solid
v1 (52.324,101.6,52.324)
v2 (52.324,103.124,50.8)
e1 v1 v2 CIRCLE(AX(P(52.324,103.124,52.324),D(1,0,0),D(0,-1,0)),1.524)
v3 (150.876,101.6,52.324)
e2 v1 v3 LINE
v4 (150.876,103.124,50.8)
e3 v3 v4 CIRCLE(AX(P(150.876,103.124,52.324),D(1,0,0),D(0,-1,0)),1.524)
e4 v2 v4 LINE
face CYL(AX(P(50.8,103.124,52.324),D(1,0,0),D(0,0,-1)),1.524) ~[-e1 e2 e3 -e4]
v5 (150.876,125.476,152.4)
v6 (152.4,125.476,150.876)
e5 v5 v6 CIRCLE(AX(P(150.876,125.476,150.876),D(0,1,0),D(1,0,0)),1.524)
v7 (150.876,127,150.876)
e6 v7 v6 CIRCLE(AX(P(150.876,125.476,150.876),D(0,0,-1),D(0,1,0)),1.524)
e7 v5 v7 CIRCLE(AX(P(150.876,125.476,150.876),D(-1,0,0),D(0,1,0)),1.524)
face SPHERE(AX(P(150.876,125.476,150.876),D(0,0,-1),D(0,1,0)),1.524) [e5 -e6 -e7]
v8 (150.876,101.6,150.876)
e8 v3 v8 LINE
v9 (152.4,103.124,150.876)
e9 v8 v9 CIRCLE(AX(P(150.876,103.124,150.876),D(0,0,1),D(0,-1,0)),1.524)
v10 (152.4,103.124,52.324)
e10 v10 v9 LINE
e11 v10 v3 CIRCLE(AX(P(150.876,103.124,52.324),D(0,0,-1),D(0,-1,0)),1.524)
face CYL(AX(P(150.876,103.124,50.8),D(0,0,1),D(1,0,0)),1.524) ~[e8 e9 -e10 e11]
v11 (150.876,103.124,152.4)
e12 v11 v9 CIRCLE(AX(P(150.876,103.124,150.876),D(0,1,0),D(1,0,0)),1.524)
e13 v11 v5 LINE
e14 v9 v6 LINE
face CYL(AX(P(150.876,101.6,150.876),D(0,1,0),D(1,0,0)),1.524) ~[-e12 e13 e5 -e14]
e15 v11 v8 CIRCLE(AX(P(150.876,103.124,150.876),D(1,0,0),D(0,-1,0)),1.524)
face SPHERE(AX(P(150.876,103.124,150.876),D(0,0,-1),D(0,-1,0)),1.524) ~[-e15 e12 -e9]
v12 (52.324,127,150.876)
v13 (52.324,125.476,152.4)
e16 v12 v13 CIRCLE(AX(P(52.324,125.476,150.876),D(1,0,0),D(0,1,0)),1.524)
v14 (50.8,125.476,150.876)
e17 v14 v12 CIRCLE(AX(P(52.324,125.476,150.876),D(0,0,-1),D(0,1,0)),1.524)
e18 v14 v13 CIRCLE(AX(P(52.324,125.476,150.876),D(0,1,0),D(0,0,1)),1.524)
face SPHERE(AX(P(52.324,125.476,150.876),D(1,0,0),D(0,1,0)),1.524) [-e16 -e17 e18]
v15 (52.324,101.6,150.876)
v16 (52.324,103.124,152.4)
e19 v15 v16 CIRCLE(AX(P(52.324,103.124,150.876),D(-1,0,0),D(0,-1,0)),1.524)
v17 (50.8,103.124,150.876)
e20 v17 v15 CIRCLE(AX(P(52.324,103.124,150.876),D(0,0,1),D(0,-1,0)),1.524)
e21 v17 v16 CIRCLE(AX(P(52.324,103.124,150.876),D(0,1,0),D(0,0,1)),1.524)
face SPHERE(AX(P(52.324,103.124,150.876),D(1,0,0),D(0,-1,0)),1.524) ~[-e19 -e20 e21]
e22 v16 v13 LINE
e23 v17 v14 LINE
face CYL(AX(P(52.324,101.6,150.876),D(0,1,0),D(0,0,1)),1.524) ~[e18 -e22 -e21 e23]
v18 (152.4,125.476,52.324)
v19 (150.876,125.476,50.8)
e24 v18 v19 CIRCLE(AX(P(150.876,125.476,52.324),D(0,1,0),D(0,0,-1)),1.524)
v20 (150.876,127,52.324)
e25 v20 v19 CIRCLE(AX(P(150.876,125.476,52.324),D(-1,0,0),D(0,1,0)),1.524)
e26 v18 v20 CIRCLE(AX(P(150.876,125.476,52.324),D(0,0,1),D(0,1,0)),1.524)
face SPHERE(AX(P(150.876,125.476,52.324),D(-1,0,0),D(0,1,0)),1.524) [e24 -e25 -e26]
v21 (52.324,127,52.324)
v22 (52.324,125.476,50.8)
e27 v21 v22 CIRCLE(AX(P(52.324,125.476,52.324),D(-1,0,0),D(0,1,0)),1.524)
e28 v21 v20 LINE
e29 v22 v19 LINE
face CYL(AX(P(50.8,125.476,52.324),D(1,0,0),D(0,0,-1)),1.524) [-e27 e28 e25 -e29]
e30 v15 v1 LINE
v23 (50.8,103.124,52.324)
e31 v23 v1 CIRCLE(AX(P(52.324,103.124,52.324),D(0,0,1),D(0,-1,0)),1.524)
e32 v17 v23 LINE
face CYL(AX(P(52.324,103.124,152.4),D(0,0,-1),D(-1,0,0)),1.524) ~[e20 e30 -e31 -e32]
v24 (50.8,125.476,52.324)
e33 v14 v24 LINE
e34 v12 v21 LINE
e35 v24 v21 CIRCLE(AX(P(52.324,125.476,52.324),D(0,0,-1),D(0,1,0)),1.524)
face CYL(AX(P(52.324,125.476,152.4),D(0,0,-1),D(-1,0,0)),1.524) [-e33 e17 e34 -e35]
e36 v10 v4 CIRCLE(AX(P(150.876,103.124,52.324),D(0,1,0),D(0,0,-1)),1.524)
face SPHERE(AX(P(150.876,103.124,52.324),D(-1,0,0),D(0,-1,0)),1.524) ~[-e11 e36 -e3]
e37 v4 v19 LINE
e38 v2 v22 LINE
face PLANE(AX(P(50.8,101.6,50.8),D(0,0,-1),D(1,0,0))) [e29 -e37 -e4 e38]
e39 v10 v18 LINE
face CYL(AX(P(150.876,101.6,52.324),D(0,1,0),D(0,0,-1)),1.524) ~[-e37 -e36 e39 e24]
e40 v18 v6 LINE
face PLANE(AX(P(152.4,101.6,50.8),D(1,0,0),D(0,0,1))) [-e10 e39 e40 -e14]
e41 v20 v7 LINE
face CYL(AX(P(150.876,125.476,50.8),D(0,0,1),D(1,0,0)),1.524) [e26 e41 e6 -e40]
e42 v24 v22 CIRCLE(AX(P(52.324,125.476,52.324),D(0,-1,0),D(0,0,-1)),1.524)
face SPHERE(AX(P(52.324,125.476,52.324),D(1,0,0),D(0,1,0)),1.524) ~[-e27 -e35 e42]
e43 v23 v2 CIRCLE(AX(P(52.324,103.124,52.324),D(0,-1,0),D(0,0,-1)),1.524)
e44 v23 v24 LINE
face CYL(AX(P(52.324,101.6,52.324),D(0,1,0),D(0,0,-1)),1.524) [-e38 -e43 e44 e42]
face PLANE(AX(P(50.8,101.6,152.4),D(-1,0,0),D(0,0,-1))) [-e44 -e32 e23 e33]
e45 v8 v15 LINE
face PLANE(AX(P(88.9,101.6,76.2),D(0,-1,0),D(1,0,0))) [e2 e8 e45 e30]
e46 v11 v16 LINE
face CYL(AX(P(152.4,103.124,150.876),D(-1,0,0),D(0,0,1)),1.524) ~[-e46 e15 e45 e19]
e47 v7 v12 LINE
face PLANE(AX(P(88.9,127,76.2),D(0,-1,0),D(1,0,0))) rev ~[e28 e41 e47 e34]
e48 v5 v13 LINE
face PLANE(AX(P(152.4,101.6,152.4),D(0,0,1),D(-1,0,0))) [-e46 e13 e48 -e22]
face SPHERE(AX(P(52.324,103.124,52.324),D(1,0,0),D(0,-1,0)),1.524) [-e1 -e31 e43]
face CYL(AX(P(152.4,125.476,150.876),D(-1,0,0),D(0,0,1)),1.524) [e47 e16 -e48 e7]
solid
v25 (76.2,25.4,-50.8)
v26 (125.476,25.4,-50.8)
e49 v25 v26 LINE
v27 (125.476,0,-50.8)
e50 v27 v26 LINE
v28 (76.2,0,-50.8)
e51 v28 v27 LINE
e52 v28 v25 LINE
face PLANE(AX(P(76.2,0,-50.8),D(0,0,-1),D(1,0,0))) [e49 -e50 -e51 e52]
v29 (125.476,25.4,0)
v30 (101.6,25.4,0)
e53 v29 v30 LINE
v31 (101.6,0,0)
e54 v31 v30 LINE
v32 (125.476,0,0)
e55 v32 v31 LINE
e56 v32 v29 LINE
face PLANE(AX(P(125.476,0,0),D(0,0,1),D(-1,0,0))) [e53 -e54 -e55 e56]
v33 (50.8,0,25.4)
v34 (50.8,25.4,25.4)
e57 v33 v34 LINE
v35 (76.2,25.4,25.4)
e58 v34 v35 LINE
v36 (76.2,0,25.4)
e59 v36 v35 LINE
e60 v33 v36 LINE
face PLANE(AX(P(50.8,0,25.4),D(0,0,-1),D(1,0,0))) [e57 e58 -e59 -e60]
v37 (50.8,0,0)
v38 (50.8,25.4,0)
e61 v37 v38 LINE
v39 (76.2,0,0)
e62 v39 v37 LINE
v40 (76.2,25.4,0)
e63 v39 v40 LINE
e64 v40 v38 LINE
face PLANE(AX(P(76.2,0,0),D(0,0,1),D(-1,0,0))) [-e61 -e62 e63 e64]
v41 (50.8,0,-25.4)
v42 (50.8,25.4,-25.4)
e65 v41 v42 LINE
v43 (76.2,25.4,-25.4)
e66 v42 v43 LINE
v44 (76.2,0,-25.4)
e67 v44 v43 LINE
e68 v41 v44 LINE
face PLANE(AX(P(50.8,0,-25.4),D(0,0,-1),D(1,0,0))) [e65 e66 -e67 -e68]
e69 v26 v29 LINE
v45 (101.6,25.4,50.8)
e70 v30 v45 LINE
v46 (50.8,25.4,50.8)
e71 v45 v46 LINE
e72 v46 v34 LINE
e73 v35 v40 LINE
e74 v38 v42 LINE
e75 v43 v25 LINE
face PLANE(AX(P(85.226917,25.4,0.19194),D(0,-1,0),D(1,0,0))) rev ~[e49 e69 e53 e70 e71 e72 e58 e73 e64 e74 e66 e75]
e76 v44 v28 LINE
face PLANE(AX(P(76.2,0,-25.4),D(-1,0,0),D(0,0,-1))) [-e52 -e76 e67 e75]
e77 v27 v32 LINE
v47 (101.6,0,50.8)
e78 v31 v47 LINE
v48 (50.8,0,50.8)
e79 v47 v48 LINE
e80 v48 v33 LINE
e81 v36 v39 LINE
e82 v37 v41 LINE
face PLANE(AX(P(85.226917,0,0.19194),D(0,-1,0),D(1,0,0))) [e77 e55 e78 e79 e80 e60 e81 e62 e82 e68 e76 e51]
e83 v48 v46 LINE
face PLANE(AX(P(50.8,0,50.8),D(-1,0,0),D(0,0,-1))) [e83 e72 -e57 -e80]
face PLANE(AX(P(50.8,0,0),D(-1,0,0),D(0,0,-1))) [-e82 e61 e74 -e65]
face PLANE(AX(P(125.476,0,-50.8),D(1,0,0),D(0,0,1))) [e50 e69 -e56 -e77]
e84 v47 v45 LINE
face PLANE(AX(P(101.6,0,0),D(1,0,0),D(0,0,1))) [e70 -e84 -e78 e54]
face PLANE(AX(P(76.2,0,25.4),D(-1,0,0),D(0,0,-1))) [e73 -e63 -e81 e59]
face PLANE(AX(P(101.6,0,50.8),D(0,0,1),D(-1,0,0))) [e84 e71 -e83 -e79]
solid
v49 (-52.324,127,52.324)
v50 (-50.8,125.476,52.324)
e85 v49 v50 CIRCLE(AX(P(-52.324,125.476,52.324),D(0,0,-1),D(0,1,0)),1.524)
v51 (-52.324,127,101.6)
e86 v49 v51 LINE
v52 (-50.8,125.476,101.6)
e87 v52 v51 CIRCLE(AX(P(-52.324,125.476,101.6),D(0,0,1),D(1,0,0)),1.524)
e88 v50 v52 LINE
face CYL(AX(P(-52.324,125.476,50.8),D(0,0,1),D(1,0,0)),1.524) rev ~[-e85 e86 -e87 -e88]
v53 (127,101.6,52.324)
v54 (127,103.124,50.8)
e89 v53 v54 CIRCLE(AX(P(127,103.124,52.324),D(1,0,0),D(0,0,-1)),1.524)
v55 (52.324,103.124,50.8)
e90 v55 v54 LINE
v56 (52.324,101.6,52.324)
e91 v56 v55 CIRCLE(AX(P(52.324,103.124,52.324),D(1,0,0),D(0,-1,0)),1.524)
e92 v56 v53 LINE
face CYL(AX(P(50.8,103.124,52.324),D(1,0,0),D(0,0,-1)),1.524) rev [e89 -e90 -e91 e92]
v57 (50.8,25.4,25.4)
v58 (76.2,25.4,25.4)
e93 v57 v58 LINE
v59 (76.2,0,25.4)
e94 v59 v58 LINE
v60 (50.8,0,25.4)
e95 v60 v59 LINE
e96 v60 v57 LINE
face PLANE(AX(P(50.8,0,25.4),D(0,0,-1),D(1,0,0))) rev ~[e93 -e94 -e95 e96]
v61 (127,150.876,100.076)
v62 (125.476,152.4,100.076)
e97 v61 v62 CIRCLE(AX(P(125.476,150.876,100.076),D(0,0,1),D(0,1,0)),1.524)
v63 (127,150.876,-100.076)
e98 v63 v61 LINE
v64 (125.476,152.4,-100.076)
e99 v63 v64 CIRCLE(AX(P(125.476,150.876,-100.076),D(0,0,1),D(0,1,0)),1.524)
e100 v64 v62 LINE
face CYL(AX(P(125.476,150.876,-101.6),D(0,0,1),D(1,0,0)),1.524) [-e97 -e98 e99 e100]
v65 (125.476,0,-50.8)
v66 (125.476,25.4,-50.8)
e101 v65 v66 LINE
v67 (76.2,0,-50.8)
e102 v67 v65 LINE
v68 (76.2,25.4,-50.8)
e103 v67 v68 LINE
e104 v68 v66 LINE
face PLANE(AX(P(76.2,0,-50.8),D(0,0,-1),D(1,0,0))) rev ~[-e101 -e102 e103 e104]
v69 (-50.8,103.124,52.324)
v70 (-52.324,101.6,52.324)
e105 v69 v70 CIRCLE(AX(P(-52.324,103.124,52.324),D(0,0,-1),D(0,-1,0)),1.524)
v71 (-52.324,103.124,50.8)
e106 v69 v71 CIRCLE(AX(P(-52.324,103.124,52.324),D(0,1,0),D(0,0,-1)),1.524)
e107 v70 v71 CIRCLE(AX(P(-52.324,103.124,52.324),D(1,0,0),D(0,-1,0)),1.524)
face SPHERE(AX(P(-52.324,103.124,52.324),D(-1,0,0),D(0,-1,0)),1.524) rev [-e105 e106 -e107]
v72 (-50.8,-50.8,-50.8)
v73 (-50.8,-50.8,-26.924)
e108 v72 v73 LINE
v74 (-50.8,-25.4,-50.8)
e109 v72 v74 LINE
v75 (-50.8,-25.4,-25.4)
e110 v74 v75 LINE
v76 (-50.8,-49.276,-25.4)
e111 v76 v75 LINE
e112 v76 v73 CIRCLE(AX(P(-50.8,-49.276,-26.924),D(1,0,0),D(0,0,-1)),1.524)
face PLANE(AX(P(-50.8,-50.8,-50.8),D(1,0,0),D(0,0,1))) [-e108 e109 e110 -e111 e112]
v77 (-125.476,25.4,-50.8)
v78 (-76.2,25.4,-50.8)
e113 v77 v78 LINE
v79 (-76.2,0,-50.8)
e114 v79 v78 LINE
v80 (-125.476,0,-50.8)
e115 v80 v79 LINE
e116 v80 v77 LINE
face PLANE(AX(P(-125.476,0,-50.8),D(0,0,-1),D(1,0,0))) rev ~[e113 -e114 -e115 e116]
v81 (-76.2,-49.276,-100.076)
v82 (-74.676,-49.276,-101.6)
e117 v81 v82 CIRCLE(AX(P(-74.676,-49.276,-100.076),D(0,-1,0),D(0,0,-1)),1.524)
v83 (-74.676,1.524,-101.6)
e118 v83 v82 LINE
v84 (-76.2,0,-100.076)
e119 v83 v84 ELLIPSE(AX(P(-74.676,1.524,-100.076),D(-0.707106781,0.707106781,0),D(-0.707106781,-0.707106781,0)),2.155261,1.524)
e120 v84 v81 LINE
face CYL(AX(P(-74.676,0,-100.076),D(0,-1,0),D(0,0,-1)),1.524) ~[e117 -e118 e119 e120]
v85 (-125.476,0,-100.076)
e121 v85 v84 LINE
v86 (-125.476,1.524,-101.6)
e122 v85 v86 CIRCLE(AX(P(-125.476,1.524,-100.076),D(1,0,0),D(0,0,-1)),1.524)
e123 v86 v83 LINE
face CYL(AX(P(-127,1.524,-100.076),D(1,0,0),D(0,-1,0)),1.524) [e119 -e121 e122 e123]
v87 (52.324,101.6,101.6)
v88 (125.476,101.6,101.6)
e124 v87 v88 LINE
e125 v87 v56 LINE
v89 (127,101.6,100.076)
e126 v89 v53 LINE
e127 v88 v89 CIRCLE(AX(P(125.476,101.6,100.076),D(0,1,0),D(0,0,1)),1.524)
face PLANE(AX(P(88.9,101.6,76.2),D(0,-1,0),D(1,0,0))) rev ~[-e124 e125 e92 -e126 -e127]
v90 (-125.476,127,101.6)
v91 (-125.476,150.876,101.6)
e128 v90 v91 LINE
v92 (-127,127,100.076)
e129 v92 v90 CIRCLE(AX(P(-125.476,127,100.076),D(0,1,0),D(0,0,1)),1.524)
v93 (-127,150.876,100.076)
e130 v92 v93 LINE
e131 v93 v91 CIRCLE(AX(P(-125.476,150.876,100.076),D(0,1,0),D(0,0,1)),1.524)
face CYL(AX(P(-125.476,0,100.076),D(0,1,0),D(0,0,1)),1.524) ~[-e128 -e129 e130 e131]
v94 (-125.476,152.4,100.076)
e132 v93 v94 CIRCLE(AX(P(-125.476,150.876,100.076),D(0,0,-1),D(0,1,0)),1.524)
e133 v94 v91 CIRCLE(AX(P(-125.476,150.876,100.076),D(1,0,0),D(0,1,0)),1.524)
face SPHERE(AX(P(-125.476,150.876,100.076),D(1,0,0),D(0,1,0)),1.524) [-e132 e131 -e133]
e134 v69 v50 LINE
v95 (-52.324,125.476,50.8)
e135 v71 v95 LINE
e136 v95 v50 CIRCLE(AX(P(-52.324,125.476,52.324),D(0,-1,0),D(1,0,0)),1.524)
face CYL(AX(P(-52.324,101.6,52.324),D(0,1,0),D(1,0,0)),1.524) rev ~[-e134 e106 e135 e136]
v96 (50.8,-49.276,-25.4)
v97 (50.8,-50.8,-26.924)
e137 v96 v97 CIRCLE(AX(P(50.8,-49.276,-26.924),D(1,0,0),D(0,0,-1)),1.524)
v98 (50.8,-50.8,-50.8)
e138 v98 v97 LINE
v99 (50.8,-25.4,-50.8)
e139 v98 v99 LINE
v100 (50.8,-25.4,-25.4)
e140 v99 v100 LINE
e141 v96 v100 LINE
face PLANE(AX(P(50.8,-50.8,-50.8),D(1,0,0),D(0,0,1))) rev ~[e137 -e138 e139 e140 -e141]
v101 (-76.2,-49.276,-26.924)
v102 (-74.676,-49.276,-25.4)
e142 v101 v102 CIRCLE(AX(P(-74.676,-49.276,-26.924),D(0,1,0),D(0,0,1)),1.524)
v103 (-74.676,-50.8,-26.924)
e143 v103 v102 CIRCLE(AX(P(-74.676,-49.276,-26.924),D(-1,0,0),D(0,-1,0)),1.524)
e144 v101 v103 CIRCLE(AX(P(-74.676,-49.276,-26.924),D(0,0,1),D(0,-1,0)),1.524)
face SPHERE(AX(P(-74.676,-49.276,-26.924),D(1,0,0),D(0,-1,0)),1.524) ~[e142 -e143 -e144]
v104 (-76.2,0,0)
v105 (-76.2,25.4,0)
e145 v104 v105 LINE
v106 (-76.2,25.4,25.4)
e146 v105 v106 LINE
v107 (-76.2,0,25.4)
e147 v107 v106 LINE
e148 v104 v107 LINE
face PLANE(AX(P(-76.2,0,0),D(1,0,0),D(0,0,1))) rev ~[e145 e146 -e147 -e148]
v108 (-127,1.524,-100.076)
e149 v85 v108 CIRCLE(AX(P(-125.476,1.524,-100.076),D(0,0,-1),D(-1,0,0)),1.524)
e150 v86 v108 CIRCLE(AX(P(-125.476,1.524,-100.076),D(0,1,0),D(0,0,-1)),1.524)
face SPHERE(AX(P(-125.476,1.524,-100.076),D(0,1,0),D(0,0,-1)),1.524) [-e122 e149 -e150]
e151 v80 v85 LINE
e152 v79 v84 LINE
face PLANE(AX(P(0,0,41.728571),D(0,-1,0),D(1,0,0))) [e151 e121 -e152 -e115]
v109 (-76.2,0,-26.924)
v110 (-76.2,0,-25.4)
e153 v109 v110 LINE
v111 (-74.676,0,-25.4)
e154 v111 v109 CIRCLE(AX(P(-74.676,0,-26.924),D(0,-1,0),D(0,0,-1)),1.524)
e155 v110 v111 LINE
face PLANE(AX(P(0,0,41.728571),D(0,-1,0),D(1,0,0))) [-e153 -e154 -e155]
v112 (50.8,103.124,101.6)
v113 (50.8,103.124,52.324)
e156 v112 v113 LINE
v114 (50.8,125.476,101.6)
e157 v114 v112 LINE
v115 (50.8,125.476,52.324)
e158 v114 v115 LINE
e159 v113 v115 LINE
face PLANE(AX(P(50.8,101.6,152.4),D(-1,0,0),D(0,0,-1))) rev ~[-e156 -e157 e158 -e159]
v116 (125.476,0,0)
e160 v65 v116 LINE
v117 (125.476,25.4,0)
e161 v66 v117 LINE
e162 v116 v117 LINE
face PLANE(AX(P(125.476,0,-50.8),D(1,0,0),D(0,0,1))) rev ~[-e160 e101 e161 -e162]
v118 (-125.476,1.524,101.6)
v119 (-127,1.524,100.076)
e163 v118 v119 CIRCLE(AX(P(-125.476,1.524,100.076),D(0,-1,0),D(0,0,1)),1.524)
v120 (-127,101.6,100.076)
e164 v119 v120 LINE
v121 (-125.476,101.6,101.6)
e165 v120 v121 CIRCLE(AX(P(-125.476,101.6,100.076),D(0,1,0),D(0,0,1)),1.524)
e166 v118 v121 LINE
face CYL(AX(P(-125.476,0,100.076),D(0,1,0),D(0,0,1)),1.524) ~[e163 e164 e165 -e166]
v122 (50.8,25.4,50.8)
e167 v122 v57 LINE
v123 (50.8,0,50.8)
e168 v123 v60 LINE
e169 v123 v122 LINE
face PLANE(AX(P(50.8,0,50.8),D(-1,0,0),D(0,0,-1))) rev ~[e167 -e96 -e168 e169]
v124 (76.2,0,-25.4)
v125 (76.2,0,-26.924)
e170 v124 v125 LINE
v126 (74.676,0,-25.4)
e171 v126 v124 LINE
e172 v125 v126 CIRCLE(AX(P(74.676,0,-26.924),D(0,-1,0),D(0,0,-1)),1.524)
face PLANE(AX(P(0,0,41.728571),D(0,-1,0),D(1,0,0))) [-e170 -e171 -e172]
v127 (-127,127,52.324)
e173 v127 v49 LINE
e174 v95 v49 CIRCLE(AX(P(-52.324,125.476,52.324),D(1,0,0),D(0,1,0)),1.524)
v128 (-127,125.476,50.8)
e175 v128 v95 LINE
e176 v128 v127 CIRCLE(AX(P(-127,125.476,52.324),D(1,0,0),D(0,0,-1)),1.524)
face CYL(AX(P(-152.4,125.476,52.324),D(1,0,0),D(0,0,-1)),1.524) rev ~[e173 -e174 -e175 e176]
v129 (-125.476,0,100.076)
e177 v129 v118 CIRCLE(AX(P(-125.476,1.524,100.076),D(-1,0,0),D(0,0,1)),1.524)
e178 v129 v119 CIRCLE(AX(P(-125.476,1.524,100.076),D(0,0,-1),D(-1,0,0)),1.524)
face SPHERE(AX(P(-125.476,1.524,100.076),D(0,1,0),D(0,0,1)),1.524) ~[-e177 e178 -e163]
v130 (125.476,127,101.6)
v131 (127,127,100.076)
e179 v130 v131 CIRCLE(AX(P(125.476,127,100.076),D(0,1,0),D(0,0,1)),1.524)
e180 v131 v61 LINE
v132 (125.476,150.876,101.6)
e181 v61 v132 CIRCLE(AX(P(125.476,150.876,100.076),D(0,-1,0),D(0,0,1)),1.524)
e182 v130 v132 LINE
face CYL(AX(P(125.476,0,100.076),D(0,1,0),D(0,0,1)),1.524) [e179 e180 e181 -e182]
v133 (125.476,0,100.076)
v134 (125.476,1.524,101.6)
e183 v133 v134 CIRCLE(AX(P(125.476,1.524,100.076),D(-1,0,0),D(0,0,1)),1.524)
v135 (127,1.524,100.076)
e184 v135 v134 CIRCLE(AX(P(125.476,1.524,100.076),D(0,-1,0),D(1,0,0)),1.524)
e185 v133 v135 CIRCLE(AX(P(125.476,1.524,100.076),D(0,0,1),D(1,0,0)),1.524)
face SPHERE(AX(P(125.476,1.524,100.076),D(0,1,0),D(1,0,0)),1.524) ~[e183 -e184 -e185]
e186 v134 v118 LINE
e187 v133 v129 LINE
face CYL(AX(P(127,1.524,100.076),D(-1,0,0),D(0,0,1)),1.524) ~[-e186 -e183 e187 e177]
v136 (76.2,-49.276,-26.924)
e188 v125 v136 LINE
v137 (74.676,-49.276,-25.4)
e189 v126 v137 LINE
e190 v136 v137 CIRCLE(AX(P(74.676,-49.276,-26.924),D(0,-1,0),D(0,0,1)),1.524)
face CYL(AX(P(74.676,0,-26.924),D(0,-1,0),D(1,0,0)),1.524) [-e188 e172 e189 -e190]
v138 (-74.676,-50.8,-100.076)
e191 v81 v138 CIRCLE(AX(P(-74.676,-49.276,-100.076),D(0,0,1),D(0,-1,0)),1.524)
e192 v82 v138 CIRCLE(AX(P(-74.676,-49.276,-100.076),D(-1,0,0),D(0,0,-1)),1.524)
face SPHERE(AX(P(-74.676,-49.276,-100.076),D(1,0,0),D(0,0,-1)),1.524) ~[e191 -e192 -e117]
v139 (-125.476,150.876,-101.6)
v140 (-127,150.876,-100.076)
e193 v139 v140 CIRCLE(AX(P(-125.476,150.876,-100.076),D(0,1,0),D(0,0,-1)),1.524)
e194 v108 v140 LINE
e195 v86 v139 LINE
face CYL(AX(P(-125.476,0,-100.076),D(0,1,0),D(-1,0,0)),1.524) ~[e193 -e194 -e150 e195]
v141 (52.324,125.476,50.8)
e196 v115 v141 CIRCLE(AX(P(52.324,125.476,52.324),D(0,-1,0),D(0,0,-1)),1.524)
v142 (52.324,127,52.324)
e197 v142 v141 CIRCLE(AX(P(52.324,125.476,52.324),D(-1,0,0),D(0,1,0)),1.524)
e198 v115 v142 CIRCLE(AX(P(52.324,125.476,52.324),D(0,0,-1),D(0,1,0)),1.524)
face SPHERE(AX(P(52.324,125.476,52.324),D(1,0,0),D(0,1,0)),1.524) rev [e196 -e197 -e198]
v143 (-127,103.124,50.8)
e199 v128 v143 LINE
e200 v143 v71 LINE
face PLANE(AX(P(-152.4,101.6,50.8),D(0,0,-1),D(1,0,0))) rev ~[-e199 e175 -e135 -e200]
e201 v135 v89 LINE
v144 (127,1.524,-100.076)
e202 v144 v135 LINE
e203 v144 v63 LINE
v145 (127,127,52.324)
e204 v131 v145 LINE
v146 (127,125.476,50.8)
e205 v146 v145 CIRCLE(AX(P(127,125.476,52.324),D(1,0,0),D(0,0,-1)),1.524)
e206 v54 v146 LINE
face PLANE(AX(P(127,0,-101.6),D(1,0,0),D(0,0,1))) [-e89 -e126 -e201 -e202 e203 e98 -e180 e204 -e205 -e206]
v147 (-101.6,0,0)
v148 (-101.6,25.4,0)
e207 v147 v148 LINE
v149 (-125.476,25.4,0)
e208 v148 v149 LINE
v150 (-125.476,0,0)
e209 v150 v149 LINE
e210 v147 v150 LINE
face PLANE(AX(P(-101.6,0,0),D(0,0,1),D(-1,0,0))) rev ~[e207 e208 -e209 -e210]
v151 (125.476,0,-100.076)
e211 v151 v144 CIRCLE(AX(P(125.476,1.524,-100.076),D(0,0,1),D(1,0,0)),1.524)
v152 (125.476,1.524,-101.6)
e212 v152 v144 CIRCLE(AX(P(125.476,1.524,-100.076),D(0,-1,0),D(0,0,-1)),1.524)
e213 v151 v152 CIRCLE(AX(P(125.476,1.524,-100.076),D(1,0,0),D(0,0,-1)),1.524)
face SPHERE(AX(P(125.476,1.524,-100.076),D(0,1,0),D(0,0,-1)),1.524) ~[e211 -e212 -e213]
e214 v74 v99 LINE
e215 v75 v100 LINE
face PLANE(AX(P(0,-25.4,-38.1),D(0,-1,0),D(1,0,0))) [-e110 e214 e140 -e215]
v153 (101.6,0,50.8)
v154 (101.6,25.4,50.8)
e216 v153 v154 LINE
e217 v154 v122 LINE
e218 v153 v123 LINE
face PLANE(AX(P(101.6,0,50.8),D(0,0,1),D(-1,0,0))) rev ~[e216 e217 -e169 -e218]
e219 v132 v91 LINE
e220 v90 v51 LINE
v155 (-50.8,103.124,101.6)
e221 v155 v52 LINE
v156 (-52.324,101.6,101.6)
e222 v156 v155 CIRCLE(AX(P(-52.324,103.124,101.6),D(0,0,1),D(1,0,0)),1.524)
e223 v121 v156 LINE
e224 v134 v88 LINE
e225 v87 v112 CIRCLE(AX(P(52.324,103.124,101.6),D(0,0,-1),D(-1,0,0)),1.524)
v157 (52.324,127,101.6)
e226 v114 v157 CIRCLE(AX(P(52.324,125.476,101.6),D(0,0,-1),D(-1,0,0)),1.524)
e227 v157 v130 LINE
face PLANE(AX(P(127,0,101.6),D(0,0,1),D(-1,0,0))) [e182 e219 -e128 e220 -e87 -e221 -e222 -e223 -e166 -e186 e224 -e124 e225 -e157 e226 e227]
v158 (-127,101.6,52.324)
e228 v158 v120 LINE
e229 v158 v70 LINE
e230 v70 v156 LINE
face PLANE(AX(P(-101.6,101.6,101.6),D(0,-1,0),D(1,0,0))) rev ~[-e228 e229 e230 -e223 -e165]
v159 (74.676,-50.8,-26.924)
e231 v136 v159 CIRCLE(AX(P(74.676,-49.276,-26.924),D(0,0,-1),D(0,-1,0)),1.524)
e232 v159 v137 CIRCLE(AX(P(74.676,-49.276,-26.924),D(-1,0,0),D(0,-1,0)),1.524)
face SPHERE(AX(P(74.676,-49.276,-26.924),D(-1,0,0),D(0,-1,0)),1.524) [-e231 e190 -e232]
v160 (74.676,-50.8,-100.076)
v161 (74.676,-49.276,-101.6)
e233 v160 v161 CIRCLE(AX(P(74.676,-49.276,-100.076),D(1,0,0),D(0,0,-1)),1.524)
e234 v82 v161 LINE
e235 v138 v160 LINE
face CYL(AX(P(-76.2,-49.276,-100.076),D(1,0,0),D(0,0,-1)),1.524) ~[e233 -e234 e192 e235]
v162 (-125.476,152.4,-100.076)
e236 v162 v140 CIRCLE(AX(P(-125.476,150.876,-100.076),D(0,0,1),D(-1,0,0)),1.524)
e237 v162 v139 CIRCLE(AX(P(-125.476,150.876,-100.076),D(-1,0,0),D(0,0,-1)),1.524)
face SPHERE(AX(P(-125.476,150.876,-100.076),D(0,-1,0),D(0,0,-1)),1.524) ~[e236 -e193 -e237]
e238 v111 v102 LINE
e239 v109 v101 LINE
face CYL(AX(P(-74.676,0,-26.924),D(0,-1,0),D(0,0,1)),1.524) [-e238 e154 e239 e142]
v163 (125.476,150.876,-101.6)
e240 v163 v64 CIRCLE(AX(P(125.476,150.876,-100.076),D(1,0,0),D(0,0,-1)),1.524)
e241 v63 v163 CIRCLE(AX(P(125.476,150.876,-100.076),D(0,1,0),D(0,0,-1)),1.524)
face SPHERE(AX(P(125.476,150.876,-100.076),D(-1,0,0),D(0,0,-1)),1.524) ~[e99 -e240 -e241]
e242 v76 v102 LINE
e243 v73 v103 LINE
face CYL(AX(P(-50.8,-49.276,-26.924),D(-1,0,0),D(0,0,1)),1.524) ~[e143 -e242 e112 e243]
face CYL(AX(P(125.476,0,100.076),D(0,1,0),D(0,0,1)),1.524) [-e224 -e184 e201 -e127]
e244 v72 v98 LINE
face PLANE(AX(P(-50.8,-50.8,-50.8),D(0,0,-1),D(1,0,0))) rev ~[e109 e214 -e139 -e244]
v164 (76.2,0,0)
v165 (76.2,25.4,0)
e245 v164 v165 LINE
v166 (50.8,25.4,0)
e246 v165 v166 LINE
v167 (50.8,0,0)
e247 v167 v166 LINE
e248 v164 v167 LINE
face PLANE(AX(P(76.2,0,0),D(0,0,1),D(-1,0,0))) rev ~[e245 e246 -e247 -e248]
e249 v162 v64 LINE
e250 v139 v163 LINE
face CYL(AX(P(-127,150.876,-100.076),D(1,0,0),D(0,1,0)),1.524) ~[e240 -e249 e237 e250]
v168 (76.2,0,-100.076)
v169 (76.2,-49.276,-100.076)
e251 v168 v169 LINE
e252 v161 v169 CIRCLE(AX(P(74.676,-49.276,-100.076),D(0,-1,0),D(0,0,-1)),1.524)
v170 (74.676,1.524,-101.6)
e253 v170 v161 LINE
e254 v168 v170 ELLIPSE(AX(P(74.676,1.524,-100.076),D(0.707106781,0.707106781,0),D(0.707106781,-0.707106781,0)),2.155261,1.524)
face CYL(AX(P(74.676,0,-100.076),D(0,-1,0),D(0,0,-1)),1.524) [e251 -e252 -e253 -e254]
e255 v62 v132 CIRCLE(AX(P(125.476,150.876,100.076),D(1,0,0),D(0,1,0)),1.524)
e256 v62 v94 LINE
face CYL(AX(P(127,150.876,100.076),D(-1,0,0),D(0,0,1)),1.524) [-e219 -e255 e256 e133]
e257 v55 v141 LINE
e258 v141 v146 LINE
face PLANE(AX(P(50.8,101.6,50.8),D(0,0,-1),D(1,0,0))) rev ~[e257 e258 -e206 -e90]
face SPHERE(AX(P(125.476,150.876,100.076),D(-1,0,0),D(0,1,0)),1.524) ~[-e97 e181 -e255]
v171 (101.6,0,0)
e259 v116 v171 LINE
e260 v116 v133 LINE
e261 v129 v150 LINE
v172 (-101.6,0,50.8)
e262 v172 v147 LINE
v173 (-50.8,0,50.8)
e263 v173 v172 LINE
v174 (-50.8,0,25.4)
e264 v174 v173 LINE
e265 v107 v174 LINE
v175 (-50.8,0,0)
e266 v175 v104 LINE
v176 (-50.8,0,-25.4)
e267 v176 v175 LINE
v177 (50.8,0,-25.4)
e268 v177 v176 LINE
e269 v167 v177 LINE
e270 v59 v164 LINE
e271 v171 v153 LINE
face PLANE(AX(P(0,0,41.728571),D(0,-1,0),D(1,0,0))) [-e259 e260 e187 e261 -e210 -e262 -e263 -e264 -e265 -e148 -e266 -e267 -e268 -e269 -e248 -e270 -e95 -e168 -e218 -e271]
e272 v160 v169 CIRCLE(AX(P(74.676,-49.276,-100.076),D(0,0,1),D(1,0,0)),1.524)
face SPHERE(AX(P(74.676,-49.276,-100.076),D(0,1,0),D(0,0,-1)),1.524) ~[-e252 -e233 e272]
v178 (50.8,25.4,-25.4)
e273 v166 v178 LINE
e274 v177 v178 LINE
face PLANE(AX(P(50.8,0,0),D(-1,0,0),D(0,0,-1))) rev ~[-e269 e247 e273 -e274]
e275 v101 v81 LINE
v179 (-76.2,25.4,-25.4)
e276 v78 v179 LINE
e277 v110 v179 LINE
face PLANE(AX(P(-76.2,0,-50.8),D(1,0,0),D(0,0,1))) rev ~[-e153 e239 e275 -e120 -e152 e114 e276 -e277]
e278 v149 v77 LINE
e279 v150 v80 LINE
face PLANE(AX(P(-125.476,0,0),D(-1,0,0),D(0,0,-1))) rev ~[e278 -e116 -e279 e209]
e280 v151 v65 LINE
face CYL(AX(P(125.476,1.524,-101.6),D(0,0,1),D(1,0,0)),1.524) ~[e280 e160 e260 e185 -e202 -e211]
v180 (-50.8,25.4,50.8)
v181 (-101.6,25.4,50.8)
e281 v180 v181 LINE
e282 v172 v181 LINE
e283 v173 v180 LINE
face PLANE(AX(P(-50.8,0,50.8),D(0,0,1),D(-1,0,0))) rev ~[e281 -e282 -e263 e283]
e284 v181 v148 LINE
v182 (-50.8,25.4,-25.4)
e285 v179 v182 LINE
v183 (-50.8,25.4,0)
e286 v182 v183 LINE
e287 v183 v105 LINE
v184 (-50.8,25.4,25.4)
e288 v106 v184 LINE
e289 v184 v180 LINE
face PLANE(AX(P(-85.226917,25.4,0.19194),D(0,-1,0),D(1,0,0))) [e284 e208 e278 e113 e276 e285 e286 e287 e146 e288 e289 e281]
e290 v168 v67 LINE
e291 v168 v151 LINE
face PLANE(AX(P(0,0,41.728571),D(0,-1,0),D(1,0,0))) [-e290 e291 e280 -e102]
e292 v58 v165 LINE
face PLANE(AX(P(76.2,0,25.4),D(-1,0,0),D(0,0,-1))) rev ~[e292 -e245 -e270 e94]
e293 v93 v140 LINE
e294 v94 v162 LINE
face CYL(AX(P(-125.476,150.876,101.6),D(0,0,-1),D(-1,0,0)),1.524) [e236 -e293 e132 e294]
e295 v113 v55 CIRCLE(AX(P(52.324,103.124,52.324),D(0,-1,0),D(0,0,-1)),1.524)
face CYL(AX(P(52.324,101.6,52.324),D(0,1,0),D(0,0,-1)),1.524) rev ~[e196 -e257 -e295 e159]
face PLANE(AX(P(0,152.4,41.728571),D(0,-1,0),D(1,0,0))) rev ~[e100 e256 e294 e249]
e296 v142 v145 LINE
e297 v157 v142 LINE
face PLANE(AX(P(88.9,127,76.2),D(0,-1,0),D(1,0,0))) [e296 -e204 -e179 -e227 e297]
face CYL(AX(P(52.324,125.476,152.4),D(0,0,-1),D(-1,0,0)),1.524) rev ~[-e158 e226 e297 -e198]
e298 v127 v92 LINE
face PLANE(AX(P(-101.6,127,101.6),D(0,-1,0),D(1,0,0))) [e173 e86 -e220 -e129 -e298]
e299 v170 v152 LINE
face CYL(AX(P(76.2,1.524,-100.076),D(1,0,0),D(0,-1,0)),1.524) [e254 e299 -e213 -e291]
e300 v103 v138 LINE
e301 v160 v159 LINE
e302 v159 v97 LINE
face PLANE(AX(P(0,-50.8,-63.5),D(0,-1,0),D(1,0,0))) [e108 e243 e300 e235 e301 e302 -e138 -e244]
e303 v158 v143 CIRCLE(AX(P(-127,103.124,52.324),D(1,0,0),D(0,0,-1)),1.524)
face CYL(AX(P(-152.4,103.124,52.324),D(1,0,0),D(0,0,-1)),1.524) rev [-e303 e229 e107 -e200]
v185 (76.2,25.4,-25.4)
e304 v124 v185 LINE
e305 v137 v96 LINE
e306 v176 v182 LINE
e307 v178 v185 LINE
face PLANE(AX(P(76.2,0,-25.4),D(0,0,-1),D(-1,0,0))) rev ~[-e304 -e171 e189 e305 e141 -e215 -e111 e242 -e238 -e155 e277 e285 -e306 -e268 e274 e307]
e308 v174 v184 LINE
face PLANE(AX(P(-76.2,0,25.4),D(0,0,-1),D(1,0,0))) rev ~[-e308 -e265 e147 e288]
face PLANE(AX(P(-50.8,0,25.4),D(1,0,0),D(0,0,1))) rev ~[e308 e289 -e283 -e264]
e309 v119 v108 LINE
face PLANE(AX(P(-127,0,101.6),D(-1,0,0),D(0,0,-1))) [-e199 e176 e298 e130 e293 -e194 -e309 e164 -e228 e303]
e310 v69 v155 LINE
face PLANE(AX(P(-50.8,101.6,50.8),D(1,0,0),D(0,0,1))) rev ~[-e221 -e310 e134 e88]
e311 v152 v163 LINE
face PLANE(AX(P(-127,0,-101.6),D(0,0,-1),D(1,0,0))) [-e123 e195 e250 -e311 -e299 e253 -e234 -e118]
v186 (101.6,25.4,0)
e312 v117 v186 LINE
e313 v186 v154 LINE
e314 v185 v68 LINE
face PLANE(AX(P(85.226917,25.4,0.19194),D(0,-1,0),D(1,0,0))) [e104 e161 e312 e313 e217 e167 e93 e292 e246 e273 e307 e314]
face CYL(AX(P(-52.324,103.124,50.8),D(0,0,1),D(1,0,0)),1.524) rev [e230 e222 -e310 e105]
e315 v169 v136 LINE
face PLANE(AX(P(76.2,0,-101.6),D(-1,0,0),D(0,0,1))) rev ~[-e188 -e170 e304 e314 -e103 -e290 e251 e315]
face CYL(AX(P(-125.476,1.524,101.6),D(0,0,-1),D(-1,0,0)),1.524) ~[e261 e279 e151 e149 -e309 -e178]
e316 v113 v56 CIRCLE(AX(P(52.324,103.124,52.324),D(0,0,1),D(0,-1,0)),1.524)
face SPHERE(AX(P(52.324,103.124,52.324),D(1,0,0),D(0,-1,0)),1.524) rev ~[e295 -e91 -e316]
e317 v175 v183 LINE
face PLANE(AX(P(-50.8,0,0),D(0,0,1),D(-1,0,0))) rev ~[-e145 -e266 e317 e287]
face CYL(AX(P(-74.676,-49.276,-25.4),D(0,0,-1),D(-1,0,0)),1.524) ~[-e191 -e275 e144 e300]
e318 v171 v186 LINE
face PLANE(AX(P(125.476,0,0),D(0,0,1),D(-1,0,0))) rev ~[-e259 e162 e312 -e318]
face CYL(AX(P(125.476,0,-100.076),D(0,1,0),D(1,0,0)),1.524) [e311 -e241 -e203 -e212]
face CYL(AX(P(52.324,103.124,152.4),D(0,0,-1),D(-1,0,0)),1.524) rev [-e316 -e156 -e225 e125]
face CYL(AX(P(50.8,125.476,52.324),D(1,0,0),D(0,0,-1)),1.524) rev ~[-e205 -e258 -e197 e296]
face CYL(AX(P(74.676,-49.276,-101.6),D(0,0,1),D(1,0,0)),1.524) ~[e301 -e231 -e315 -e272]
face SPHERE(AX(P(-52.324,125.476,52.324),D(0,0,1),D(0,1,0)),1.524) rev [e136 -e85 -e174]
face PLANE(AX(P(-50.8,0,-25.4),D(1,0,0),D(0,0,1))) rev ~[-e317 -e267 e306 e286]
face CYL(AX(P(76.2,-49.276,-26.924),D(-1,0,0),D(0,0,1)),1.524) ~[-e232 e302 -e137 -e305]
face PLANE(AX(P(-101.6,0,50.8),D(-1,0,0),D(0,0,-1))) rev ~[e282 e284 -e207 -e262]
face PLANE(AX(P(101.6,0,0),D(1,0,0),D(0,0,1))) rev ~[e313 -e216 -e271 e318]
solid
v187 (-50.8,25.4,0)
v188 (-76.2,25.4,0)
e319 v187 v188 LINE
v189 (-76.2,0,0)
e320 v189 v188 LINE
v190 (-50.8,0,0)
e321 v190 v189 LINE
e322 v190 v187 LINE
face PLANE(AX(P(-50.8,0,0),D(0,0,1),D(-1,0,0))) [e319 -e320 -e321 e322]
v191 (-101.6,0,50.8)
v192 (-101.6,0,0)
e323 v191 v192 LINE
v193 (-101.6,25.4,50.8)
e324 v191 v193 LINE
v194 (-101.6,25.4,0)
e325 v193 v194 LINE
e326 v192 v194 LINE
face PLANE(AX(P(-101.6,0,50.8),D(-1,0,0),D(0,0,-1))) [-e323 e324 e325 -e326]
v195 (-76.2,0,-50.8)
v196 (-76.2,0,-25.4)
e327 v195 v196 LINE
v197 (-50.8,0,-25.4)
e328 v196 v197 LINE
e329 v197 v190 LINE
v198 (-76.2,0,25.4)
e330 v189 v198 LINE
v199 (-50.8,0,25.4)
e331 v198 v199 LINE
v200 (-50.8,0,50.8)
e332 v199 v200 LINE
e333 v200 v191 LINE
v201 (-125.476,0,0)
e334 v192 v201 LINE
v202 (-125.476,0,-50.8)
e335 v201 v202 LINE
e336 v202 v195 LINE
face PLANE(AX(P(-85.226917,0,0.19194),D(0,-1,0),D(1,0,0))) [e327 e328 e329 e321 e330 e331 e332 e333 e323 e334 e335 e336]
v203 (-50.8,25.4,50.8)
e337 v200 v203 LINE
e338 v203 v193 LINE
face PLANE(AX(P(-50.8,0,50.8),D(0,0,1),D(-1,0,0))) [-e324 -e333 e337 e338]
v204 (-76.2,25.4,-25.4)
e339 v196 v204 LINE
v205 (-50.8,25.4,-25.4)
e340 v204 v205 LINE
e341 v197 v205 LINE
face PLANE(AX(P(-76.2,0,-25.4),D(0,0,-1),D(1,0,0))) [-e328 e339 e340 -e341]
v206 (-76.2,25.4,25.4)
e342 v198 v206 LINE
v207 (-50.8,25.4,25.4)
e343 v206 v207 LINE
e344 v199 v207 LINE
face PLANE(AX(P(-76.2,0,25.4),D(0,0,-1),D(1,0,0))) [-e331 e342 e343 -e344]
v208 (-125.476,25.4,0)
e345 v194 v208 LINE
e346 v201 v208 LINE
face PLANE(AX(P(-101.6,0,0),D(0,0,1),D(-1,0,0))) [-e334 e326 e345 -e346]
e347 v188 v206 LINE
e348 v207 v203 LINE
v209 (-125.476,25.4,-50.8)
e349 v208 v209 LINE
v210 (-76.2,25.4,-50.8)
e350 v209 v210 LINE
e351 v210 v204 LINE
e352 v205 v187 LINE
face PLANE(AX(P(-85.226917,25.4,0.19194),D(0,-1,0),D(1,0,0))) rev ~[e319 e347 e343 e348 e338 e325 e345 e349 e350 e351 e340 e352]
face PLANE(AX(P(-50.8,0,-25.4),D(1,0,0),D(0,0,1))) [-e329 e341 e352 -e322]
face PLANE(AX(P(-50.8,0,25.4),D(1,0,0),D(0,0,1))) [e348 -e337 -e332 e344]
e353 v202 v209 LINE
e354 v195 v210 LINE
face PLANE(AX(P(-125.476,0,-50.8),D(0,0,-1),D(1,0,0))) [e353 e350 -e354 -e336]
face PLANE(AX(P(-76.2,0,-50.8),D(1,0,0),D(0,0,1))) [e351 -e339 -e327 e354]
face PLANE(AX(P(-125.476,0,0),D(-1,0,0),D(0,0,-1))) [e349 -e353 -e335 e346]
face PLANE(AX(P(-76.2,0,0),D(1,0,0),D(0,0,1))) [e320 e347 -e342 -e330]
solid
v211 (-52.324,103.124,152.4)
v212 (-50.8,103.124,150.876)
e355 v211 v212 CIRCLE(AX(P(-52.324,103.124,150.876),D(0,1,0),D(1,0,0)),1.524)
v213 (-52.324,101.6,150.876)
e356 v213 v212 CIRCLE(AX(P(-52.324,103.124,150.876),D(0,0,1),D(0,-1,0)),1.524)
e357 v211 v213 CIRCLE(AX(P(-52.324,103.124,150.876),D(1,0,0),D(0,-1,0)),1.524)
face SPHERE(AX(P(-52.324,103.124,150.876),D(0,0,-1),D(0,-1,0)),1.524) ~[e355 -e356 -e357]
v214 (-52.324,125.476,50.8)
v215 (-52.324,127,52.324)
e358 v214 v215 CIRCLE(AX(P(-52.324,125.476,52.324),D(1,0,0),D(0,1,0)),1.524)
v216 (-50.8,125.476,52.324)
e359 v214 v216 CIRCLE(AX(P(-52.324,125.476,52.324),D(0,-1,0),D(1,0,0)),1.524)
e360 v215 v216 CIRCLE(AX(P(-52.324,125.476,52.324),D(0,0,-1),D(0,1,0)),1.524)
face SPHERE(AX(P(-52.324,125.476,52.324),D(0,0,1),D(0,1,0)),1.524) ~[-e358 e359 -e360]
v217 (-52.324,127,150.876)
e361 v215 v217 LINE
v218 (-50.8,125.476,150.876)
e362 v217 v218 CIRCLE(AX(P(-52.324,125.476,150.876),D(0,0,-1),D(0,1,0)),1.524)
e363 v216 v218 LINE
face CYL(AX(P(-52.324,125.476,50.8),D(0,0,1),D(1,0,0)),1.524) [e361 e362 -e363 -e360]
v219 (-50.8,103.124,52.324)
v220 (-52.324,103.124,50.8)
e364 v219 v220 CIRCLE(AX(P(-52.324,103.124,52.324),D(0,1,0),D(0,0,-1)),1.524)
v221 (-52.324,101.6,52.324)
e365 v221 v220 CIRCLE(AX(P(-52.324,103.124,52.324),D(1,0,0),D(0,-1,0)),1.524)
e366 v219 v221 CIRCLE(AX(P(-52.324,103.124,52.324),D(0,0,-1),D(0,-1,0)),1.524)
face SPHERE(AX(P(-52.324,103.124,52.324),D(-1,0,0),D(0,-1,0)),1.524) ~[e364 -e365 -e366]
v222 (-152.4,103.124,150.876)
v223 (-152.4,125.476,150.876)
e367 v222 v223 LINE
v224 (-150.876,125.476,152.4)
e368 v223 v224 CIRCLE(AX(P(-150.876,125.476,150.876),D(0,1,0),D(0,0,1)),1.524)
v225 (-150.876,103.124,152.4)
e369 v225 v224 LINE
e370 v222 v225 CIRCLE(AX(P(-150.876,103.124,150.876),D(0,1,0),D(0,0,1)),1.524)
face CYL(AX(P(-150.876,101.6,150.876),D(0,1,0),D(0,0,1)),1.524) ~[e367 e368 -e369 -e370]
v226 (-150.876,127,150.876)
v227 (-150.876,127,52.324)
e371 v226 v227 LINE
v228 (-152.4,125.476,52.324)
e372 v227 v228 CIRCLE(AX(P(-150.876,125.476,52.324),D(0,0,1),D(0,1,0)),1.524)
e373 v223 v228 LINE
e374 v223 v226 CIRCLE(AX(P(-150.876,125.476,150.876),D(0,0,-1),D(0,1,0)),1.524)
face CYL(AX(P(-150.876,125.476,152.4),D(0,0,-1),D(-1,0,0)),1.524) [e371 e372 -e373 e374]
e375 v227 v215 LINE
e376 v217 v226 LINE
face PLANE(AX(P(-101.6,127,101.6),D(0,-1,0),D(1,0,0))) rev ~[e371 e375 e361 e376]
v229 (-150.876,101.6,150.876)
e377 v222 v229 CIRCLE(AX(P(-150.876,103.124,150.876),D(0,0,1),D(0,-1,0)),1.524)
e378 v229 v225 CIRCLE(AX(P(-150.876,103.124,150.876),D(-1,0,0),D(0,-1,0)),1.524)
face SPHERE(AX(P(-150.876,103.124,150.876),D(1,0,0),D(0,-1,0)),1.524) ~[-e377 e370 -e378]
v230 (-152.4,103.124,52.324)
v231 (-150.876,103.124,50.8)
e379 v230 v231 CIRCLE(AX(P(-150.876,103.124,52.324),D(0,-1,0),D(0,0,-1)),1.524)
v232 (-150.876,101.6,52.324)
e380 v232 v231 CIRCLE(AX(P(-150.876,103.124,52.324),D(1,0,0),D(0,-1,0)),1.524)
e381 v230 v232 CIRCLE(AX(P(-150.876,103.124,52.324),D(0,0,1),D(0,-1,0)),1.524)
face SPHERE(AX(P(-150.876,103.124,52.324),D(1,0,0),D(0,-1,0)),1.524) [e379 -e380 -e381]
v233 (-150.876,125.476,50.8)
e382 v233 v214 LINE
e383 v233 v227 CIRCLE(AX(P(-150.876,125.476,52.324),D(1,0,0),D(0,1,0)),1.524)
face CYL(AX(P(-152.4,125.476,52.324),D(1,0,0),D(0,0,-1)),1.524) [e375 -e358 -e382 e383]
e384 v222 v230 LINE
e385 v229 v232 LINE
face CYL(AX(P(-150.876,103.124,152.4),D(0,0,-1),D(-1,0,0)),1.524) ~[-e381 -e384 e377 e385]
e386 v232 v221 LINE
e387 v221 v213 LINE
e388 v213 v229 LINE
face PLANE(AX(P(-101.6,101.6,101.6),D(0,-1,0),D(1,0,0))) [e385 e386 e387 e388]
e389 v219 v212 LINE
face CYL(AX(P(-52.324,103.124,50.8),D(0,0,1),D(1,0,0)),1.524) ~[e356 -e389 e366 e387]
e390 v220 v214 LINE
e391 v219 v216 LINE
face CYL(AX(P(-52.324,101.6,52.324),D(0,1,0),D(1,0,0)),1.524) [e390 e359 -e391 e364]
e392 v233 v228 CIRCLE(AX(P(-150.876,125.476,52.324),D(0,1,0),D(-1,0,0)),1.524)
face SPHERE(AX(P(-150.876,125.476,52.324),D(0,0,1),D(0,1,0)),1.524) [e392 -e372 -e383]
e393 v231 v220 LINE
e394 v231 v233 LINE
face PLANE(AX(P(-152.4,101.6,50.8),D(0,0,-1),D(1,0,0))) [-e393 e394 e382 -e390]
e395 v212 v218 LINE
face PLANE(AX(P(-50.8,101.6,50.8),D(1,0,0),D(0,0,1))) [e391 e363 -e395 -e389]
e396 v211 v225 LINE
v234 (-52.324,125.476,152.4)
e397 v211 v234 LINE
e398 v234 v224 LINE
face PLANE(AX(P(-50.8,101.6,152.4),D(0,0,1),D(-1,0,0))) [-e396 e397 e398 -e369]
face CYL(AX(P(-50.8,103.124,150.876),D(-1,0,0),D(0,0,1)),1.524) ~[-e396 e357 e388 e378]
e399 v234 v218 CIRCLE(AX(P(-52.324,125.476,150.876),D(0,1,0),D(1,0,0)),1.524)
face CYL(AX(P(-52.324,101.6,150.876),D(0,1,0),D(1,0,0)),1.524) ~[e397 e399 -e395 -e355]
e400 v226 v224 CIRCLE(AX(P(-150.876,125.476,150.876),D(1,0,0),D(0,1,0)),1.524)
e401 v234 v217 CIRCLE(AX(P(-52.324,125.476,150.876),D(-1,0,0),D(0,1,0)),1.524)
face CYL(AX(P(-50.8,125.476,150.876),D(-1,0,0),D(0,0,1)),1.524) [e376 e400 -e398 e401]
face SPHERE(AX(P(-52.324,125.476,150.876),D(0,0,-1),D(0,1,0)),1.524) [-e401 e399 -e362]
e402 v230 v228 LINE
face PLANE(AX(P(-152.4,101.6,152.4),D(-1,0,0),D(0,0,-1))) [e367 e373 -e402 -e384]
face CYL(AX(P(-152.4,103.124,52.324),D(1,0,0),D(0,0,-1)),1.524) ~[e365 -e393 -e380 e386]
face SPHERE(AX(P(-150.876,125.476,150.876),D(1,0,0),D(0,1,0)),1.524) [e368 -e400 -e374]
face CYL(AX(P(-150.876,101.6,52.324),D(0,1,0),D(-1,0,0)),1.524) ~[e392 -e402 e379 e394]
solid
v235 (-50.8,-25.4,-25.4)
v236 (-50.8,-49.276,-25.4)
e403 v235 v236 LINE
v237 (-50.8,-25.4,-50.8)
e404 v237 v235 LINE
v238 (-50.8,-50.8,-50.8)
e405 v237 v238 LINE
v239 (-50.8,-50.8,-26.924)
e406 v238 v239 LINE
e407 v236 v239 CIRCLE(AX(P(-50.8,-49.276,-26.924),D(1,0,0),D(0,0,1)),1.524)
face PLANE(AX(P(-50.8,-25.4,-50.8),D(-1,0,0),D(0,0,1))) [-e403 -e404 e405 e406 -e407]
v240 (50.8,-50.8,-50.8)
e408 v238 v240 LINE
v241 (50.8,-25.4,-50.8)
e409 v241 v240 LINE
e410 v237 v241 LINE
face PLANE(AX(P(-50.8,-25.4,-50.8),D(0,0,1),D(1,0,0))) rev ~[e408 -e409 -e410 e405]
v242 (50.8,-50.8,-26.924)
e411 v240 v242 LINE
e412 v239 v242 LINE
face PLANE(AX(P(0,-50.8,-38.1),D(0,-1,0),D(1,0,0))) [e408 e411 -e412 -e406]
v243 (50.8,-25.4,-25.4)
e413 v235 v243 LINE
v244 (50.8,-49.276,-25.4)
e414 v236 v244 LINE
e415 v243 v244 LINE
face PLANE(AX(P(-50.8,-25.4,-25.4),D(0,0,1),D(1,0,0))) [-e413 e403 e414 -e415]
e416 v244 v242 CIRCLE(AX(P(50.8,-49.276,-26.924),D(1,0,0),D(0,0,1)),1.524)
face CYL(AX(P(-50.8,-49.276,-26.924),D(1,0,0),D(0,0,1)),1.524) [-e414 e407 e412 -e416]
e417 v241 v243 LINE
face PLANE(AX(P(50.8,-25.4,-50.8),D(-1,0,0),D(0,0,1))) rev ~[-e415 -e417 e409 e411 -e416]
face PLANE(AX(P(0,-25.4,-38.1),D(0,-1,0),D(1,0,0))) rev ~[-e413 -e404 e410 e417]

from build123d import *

# Parameters (mm, degrees)
F0_W      = 50.8
F0_H      = 50.8
F1_DEPTH  = 152.4
F2_DEPTH  = 50.8
F3_W      = 101.6
F3_H      = 25.4
F4_DEPTH  = 25.4
F5_DEPTH  = 25.4
F7_W      = 76.2
F7_H      = 50.8
F8_DEPTH  = 25.4
F9_R      = 1.524
F9_2_R    = 1.524
F9_3_R    = 1.524
F9_4_R    = 1.524
F12_DEPTH = 25.4
F13_DEPTH = 25.4


with BuildPart() as f1:
    # F0 (on Front) → F1 (new body)
    with BuildSketch(Plane.XZ):
        Polygon((50.8, 25.4), (50.8, 50.8), (101.6, 50.8), (101.6, 0), (127, 0), (127, 101.6), (-127, 101.6), (-127, 0), (-101.6, 0), (-101.6, 50.8), (-50.8, 50.8), (-50.8, 25.4), (-76.2, 25.4), (-76.2, 0), (-50.8, 0), (-50.8, -25.4), (50.8, -25.4), (50.8, 0), (76.2, 0), (76.2, 25.4), align=None)
        Polygon((-76.2, -25.4), (-50.8, -25.4), (-50.8, 0), (-76.2, 0), (-76.2, 25.4), (-50.8, 25.4), (-50.8, 50.8), (-101.6, 50.8), (-101.6, 0), (-127, 0), (-127, -50.8), (-76.2, -50.8), align=None)
        Polygon((101.6, 50.8), (50.8, 50.8), (50.8, 25.4), (76.2, 25.4), (76.2, 0), (50.8, 0), (50.8, -25.4), (76.2, -25.4), (76.2, -50.8), (127, -50.8), (127, 0), (101.6, 0), align=None)
        with Locations((-101.6, -76.2)):
            Rectangle(F0_W, F0_H)
        Polygon((76.2, -25.4), (50.8, -25.4), (-50.8, -25.4), (-76.2, -25.4), (-76.2, -50.8), (-76.2, -101.6), (76.2, -101.6), (76.2, -50.8), align=None)
        with Locations((101.6, -76.2)):
            Rectangle(F0_W, F0_H)
    extrude(amount=-F1_DEPTH)

    # F0 (on Front) → F2 (join)
    with BuildSketch(Plane.XZ):
        Polygon((76.2, -25.4), (50.8, -25.4), (-50.8, -25.4), (-76.2, -25.4), (-76.2, -50.8), (-76.2, -101.6), (76.2, -101.6), (76.2, -50.8), align=None)
    extrude(amount=F2_DEPTH)

    # F3 (on face) → F4 (cut)
    with BuildSketch(Plane.XZ.offset(50.8)):
        with Locations((0, -38.1)):
            Rectangle(F3_W, F3_H)
    extrude(amount=-F4_DEPTH, mode=Mode.SUBTRACT)


with BuildPart() as f5:
    # F5 (new): a face of the model
    f5_faces = [f1.part.faces().sort_by_distance(p)[0] for p in [
        (0, -25.4, -38.1),
    ]]
    extrude(f5_faces, amount=F5_DEPTH)

    # F9#2
    f9_2_edges = [f5.edges().sort_by_distance(p)[0] for p in [
        (0, -50.8, -25.4),
    ]]
    fillet(f9_2_edges, radius=F9_2_R)


with BuildPart() as f8:
    # F7 (on offset) → F8 (new body)
    with BuildSketch(Plane.XZ.offset(-101.6)):
        with Locations((88.9, 76.2)):
            Rectangle(F7_W, F7_H)
        Polygon((50.8, 152.4), (50.8, 101.6), (127, 101.6), (127, 50.8), (152.4, 50.8), (152.4, 152.4), align=None)
    extrude(amount=-F8_DEPTH)

    # F9#3
    f9_3_edges = [f8.edges().sort_by_distance(p)[0] for p in [
        (101.6, 101.6, 50.8),
        (152.4, 101.6, 101.6),
        (101.6, 101.6, 152.4),
        (50.8, 101.6, 101.6),
        (101.6, 127, 50.8),
        (152.4, 127, 101.6),
        (101.6, 127, 152.4),
        (50.8, 127, 101.6),
        (50.8, 114.3, 50.8),
        (152.4, 114.3, 50.8),
        (152.4, 114.3, 152.4),
        (50.8, 114.3, 152.4),
    ]]
    fillet(f9_3_edges, radius=F9_3_R)


with BuildPart() as f8b:
    # F7 (on offset) → F8, piece 2 (new body)
    with BuildSketch(Plane.XZ.offset(-101.6)):
        Polygon((-127, 50.8), (-50.8, 50.8), (-50.8, 101.6), (-50.8, 152.4), (-152.4, 152.4), (-152.4, 50.8), align=None)
    extrude(amount=-F8_DEPTH)

    # F9#4
    f9_4_edges = [f8b.edges().sort_by_distance(p)[0] for p in [
        (-50.8, 127, 101.6),
        (-101.6, 127, 152.4),
        (-152.4, 127, 101.6),
        (-101.6, 127, 50.8),
        (-101.6, 101.6, 50.8),
        (-50.8, 101.6, 101.6),
        (-101.6, 101.6, 152.4),
        (-152.4, 101.6, 101.6),
        (-50.8, 114.3, 50.8),
        (-152.4, 114.3, 50.8),
        (-50.8, 114.3, 152.4),
        (-152.4, 114.3, 152.4),
    ]]
    fillet(f9_4_edges, radius=F9_4_R)


with BuildPart() as f1_1:
    add(f1.part)

    # F9
    f9_edges = [f1_1.edges().sort_by_distance(p)[0] for p in [
        (-63.5, -50.8, -25.4),
        (63.5, -50.8, -25.4),
        (-127, 76.2, -101.6),
        (0, 152.4, -101.6),
        (127, 76.2, -101.6),
        (101.6, 0, -101.6),
        (76.2, -25.4, -101.6),
        (0, -50.8, -101.6),
        (-76.2, -25.4, -101.6),
        (-101.6, 0, -101.6),
        (0, 152.4, 101.6),
        (-127, 152.4, 0),
        (127, 152.4, 0),
        (-127, 76.2, 101.6),
        (127, 76.2, 101.6),
        (76.2, -50.8, -63.5),
        (76.2, -25.4, -25.4),
        (-76.2, -50.8, -63.5),
        (-76.2, -25.4, -25.4),
        (127, 0, 0),
        (0, 0, 101.6),
        (-127, 0, 0),
    ]]
    fillet(f9_edges, radius=F9_R)

    # F10: cut F8, F8b
    add(f8.part, mode=Mode.SUBTRACT)
    add(f8b.part, mode=Mode.SUBTRACT)

    # F11 (on Front) → F12 (cut)
    with BuildSketch(Plane.XZ):
        Polygon((-101.6, 50.8), (-101.6, 0), (-125.476, 0), (-125.476, -50.8), (-76.2, -50.8), (-76.2, -25.4), (-50.8, -25.4), (-50.8, 0), (-76.2, 0), (-76.2, 25.4), (-50.8, 25.4), (-50.8, 50.8), align=None)
        Polygon((125.476, -50.8), (125.476, 0), (101.6, 0), (101.6, 50.8), (50.8, 50.8), (50.8, 25.4), (76.2, 25.4), (76.2, 0), (50.8, 0), (50.8, -25.4), (76.2, -25.4), (76.2, -50.8), align=None)
    extrude(amount=-F12_DEPTH, mode=Mode.SUBTRACT)


with BuildPart() as f13:
    # F11 (on Front) → F13 (new body)
    with BuildSketch(Plane.XZ):
        Polygon((-101.6, 50.8), (-101.6, 0), (-125.476, 0), (-125.476, -50.8), (-76.2, -50.8), (-76.2, -25.4), (-50.8, -25.4), (-50.8, 0), (-76.2, 0), (-76.2, 25.4), (-50.8, 25.4), (-50.8, 50.8), align=None)
    extrude(amount=-F13_DEPTH)


with BuildPart() as f13b:
    # F11 (on Front) → F13, piece 2 (new body)
    with BuildSketch(Plane.XZ):
        Polygon((125.476, -50.8), (125.476, 0), (101.6, 0), (101.6, 50.8), (50.8, 50.8), (50.8, 25.4), (76.2, 25.4), (76.2, 0), (50.8, 0), (50.8, -25.4), (76.2, -25.4), (76.2, -50.8), align=None)
    extrude(amount=-F13_DEPTH)


solid = Compound([f5.part, f8.part, f8b.part, f1_1.part, f13.part, f13b.part])
